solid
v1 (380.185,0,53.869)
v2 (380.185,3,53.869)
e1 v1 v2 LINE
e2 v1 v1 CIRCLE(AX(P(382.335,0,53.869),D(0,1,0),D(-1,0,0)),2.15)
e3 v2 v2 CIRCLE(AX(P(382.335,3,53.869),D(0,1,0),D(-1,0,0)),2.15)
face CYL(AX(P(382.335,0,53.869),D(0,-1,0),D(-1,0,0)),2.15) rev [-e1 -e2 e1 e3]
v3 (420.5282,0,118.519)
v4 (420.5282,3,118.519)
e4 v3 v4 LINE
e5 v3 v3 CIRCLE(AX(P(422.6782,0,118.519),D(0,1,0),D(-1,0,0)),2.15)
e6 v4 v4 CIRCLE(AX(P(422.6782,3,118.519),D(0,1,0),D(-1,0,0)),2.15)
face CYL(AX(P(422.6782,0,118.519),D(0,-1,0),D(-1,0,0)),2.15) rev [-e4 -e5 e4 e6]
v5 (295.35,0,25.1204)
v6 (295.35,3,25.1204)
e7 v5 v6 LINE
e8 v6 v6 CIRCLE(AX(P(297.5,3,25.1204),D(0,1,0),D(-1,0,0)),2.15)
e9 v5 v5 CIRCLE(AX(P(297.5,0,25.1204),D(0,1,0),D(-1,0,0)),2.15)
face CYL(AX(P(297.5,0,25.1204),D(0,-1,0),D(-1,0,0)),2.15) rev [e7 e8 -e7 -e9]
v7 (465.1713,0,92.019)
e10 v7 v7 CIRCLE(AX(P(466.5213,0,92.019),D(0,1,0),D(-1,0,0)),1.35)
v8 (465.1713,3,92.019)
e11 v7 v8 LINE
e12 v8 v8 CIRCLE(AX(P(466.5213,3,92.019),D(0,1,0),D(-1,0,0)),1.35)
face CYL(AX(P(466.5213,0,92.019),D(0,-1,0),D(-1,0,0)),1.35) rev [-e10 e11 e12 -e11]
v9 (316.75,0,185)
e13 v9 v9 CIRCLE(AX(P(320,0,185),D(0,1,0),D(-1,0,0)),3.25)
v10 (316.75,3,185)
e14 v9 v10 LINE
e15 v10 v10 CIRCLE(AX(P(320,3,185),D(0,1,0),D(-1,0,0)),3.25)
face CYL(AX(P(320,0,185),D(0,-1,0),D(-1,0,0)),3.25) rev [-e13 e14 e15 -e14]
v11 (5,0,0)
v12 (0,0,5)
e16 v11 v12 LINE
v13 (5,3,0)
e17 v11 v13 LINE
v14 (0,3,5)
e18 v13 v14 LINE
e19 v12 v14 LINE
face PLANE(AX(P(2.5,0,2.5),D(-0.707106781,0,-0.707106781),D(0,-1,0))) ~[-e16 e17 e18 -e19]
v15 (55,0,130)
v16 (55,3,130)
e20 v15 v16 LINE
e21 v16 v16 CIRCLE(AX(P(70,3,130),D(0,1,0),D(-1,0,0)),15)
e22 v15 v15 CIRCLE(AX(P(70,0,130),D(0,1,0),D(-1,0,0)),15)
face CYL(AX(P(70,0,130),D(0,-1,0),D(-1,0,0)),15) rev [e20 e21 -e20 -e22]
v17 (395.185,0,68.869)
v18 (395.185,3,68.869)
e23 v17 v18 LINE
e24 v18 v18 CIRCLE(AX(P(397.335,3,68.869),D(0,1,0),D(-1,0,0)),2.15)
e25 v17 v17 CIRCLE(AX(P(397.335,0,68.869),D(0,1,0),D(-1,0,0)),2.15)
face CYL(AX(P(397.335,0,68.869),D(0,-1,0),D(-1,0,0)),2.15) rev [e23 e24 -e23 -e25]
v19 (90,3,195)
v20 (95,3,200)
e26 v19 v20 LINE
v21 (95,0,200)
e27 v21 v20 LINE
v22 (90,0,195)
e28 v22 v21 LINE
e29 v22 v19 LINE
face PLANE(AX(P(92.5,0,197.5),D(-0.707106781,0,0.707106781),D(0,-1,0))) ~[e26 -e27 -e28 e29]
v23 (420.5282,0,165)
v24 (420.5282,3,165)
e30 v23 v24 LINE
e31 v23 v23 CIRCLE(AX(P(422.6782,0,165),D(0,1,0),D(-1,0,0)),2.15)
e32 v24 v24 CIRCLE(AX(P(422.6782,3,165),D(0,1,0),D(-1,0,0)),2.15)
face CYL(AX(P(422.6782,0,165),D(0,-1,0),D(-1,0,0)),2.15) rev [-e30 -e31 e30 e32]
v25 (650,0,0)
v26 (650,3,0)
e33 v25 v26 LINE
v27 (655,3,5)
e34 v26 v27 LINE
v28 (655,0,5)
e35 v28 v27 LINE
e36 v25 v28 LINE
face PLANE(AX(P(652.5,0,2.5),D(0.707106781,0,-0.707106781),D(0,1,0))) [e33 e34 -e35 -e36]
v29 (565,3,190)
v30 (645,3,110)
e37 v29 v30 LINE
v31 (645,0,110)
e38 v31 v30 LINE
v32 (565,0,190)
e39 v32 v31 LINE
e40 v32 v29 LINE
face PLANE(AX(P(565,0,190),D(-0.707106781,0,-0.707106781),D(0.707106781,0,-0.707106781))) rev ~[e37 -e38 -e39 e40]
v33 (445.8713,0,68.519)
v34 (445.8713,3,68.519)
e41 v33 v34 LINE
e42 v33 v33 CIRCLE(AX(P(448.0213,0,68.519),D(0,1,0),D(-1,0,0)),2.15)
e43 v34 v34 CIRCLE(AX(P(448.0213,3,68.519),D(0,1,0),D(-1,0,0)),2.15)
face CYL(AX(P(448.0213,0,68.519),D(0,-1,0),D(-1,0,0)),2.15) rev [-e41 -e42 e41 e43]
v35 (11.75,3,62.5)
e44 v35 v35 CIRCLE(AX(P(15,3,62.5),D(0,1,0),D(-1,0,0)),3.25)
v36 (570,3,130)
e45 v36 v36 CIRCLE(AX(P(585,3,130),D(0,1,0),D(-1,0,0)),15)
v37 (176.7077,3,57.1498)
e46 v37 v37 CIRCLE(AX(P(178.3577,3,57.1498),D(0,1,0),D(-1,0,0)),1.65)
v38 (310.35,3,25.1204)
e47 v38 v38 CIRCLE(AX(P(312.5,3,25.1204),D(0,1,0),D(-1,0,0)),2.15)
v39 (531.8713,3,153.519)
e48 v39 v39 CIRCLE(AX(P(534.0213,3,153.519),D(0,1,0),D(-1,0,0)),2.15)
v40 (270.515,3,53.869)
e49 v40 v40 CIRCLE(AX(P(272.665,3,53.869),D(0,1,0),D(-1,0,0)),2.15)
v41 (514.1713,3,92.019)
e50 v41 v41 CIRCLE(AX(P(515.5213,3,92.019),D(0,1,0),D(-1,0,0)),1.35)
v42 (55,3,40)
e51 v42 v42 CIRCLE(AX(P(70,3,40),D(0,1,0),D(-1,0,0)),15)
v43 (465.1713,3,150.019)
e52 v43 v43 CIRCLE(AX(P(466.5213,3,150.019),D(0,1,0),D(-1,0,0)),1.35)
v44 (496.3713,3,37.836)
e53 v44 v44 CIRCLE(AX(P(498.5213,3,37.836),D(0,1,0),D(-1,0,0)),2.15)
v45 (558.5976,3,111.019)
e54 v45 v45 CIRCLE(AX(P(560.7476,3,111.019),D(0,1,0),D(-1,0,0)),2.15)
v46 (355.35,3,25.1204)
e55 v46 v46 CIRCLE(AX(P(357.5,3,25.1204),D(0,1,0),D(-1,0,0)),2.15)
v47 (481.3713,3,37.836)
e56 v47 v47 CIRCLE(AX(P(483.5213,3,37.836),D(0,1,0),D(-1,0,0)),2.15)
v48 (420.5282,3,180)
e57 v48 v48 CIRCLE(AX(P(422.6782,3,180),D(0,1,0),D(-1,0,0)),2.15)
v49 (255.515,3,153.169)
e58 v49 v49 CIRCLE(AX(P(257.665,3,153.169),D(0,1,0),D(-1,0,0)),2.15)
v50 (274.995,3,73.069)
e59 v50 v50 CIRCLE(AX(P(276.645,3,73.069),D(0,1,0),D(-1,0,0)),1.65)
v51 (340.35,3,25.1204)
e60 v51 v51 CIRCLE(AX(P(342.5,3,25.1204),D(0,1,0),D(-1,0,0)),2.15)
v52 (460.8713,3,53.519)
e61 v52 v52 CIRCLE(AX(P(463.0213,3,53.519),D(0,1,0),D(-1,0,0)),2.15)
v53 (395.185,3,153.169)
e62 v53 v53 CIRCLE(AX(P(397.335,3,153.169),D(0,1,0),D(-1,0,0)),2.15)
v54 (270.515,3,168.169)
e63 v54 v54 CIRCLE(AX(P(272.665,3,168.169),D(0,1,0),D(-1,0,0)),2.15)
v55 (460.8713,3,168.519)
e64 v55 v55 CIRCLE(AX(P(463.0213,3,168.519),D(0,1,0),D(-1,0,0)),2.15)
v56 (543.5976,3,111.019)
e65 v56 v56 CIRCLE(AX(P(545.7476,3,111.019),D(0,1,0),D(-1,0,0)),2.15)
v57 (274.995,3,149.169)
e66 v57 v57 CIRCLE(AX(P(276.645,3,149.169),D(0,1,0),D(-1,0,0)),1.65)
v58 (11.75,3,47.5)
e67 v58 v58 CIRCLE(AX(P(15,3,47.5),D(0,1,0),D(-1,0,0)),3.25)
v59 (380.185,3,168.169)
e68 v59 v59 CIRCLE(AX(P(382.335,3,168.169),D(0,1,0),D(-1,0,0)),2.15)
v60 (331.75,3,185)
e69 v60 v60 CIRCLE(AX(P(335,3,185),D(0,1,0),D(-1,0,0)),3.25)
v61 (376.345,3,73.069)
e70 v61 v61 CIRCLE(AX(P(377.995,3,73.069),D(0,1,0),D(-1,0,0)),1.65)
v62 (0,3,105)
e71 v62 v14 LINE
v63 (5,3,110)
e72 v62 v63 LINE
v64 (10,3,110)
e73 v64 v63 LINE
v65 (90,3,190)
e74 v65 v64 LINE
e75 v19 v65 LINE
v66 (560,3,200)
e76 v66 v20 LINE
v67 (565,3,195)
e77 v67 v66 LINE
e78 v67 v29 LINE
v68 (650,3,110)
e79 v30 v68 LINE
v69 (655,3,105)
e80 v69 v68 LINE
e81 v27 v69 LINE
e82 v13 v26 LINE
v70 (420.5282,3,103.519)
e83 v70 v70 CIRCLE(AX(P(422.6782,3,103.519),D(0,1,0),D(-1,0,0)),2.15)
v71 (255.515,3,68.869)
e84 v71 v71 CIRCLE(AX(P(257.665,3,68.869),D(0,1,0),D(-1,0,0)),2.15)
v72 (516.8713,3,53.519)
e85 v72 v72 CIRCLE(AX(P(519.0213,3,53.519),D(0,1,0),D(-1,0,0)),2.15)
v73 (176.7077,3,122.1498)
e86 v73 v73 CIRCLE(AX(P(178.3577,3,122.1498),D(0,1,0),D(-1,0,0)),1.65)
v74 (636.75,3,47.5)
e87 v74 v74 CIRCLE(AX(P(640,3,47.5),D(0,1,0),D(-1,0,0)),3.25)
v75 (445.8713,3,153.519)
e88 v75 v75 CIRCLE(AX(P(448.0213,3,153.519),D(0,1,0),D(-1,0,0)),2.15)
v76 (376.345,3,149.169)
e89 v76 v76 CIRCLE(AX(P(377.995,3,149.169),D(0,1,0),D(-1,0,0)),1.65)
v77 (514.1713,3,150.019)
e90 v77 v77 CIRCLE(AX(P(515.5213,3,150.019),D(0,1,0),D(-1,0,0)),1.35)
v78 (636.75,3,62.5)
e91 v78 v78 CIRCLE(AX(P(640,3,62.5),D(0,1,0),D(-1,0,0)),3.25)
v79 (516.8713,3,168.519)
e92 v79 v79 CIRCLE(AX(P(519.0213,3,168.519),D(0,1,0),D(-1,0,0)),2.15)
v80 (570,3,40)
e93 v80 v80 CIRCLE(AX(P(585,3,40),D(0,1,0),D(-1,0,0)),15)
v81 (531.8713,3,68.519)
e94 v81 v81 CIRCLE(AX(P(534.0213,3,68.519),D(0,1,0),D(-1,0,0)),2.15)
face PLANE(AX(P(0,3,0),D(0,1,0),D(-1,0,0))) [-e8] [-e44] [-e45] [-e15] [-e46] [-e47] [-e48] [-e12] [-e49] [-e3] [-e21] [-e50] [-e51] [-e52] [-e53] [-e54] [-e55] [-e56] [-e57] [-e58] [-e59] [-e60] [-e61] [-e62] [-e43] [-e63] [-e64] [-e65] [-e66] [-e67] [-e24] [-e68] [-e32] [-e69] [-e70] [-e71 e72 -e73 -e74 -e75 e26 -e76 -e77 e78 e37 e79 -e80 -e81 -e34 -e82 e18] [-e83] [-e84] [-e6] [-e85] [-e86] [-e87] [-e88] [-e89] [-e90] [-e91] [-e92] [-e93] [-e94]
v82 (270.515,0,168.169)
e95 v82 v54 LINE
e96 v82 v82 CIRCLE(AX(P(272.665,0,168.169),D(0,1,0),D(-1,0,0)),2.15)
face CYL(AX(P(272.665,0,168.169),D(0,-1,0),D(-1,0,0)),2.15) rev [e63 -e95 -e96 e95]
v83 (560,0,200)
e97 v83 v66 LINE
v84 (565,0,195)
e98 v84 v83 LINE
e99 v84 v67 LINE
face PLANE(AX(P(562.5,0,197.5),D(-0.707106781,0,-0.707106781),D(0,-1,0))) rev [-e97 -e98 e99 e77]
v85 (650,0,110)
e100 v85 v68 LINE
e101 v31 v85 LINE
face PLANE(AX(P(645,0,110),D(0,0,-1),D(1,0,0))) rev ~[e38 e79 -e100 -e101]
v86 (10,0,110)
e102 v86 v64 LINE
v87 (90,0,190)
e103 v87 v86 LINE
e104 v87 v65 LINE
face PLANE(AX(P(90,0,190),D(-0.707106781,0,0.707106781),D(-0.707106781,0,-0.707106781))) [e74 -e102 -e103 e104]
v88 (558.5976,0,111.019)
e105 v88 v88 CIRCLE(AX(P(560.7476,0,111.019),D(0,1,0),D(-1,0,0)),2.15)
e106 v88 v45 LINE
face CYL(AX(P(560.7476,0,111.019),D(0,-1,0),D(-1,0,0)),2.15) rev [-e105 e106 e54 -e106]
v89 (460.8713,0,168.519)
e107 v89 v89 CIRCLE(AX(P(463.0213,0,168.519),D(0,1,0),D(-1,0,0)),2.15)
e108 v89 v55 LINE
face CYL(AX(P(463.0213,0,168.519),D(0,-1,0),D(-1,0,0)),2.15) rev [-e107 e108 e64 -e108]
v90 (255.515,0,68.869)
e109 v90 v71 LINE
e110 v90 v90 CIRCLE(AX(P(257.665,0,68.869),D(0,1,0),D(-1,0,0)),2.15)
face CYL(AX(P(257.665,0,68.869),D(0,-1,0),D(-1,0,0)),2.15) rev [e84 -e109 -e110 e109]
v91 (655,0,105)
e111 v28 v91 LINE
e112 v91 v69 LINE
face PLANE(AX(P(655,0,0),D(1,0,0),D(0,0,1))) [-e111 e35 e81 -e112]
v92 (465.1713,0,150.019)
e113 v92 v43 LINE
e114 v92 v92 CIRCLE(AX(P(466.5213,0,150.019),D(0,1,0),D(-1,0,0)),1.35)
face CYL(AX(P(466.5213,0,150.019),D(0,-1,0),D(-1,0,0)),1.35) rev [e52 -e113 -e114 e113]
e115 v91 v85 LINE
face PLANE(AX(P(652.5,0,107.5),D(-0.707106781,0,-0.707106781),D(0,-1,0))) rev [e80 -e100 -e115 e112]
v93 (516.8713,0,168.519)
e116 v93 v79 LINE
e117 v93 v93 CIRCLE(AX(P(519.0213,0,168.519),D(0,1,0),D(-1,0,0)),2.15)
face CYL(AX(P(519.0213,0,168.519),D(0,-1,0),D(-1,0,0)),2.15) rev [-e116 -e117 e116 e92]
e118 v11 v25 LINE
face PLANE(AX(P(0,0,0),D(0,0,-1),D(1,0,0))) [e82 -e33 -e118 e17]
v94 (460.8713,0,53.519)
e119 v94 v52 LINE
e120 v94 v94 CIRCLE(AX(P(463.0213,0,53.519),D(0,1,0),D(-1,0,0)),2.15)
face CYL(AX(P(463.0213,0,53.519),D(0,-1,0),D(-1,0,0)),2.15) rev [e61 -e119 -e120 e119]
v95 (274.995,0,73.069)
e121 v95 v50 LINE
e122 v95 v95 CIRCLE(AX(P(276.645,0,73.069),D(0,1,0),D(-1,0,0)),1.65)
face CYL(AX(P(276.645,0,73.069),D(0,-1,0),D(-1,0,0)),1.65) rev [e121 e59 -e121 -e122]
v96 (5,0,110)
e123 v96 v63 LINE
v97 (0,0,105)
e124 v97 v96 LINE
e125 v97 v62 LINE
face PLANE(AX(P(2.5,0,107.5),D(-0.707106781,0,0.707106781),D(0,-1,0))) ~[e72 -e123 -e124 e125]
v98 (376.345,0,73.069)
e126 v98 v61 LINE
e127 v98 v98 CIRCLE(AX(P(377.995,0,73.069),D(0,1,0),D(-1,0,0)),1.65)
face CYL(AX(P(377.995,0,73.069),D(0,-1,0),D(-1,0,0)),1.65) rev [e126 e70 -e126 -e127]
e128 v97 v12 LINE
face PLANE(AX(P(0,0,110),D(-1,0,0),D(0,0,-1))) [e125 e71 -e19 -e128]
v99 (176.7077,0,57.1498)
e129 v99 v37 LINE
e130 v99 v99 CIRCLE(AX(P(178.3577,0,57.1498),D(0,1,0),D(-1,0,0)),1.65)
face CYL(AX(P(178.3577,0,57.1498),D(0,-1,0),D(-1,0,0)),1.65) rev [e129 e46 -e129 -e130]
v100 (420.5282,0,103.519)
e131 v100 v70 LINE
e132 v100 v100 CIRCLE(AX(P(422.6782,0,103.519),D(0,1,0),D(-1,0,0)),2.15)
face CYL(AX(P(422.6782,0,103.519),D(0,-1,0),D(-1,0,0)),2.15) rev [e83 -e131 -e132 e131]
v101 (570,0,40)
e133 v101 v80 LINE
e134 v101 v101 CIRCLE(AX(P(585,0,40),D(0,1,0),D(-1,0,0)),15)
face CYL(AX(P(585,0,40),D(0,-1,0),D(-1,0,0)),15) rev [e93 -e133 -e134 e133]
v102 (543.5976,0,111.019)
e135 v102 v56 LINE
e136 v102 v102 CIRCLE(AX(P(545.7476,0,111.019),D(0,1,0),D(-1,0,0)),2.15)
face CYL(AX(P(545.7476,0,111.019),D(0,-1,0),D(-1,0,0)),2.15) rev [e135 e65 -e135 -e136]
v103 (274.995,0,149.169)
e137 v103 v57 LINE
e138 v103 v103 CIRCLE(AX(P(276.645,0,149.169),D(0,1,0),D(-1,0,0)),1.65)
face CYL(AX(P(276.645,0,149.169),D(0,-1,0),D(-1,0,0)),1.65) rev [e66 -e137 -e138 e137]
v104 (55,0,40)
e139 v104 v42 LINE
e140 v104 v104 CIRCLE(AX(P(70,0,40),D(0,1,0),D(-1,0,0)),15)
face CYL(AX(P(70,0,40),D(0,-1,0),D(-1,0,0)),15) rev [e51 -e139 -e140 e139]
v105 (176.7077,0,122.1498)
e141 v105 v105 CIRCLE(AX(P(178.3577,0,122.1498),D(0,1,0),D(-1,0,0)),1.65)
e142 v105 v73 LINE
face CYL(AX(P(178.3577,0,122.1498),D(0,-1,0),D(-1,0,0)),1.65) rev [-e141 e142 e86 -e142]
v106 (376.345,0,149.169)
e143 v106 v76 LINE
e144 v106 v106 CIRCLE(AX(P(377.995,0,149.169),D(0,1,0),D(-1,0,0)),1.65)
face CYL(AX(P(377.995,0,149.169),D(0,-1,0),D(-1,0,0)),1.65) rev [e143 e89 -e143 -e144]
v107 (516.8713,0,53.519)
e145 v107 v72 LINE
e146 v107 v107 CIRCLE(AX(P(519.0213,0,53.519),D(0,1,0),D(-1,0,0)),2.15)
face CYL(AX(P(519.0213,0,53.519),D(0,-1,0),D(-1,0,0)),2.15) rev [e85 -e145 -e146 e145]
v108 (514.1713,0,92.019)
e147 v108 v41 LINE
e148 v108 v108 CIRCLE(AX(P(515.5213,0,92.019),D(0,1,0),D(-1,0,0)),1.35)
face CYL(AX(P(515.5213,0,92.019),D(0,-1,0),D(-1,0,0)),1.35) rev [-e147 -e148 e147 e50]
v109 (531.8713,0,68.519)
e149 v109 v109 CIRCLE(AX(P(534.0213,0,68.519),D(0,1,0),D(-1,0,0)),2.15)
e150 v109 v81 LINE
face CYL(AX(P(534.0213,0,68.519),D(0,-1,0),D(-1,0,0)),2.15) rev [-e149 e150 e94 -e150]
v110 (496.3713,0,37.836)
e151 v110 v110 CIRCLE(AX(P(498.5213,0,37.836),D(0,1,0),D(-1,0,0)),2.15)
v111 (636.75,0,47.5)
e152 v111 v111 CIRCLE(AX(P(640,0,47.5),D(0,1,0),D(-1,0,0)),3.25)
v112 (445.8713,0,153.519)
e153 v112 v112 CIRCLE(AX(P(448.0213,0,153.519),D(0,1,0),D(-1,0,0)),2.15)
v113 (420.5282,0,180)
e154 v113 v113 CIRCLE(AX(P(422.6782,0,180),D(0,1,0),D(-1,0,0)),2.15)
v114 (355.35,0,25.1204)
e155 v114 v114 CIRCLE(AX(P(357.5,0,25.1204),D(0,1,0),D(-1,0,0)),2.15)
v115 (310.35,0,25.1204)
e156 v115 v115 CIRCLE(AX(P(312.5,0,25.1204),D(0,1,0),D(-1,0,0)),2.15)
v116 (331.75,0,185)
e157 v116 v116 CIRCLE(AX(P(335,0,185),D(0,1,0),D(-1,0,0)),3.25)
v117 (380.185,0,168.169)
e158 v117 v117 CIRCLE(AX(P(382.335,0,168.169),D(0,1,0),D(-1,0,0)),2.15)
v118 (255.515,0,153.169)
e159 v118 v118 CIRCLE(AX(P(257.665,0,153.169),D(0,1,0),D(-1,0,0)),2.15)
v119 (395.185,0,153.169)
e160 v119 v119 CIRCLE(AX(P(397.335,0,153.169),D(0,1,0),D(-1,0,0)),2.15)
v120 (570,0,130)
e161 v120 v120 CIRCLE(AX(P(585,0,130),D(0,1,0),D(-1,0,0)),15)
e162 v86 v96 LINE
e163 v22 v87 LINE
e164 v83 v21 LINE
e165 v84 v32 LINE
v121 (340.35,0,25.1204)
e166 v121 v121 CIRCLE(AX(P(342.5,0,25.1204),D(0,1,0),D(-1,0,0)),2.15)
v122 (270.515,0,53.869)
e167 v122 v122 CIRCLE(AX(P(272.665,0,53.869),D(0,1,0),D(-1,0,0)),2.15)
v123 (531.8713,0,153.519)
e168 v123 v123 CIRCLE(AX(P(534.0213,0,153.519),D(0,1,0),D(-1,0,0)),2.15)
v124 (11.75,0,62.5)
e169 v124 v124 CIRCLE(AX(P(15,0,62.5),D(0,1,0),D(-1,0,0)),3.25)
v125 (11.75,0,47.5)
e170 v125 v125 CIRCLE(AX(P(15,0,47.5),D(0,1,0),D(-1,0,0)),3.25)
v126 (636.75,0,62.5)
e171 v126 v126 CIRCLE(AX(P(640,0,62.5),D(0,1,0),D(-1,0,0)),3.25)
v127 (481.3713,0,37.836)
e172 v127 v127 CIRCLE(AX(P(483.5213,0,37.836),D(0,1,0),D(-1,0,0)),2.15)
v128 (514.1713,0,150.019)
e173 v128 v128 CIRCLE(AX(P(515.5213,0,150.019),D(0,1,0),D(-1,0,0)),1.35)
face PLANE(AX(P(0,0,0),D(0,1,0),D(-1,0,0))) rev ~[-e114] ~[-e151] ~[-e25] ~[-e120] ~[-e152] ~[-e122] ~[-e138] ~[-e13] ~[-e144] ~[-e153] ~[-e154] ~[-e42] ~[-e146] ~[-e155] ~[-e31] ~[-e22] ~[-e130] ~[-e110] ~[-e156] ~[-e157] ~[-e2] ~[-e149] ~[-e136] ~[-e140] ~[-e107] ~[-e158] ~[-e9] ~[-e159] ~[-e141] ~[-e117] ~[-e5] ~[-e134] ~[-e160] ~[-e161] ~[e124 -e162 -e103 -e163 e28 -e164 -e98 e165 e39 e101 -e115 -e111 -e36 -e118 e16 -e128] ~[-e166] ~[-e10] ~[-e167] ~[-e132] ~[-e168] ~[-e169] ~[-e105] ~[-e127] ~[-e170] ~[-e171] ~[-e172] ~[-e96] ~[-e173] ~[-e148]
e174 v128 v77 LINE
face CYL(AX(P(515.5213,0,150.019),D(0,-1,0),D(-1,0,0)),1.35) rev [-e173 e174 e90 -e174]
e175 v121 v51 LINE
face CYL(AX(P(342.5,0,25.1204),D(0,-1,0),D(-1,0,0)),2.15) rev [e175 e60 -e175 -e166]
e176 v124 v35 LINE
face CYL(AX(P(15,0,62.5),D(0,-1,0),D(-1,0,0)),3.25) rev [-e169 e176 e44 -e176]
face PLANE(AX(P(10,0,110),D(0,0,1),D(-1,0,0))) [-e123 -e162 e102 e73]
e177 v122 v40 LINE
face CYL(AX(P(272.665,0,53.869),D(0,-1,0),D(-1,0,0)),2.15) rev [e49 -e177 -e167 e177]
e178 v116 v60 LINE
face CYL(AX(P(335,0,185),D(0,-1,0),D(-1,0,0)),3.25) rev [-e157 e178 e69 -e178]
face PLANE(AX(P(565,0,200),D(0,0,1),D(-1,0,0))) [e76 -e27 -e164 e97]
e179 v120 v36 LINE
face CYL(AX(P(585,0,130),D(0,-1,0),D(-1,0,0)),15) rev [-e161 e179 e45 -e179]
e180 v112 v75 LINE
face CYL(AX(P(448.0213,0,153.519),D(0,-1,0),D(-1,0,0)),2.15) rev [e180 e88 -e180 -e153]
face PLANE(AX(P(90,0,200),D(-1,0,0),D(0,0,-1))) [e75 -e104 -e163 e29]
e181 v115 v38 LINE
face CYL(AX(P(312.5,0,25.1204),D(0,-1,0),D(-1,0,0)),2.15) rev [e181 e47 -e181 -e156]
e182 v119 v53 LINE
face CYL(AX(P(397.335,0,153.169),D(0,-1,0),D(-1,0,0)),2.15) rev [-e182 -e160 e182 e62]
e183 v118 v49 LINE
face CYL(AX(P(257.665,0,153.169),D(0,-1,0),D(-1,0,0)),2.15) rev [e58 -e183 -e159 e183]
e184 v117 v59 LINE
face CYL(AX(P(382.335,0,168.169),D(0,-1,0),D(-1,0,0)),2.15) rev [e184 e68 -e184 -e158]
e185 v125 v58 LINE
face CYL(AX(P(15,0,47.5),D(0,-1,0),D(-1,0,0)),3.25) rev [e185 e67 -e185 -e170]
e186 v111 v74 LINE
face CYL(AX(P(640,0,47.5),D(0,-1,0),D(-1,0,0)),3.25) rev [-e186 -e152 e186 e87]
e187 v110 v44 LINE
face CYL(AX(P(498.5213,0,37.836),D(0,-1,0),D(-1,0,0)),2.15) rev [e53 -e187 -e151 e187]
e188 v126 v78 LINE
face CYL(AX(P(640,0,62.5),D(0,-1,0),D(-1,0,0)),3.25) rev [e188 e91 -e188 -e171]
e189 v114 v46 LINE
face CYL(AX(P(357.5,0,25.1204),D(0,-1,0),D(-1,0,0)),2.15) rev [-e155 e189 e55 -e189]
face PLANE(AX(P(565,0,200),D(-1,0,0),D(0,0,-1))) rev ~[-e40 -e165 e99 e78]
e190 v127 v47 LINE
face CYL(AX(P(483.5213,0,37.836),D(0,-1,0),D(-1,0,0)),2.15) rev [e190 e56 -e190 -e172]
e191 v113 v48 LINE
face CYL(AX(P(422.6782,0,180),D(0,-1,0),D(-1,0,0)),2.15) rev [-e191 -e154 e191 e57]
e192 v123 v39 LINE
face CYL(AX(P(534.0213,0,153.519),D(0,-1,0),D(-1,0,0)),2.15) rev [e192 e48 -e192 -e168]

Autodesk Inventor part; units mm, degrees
ref_plane "YZ Plane" through (0, 0, 0) normal (1, 0, 0) x (0, 1, 0)
ref_plane "XZ Plane" through (0, 0, 0) normal (0, 1, 0) x (-1, 0, 0)
ref_plane "XY Plane" through (0, 0, 0) normal (0, 0, 1) x (1, 0, 0)
sketch "Skizze1" plane through (0, 0, 0) normal (0, 1, 0) x (-1, 0, 0)
  line L0 (0, 0) -> (-655, 0)
  line L1 (-655, 0) -> (-655, 200)
  line L2 (-655, 200) -> (0, 200)
  line L3 (0, 200) -> (0, 0)
  line L4 (-327.5, 0) -> (-327.5, 200) construction
  line L5 (0, 100) -> (-655, 100) construction
  line L6 (-655, 55) -> (0, 55) construction
  line L7 (0, 80) -> (-655, 80) construction
  line L8 (-640, 185) -> (-640, 15) construction
  line L9 (-640, 15) -> (-15, 15) construction
  line L10 (-15, 15) -> (-15, 185) construction
  line L11 (-15, 185) -> (-640, 185) construction
  circle A0 centre (-15, 47.5) radius 3.25
  circle A1 centre (-15, 62.5) radius 3.25
  circle A2 centre (-320, 185) radius 3.25
  circle A3 centre (-335, 185) radius 3.25
  circle A4 centre (-640, 47.5) radius 3.25
  circle A5 centre (-640, 62.5) radius 3.25
  line L12 (-90, 200) -> (-90, 190)
  line L13 (-90, 190) -> (-10, 110)
  line L14 (-10, 110) -> (0, 110)
  line L15 (-565, 200) -> (-565, 190)
  line L16 (-565, 190) -> (-645, 110)
  line L17 (-645, 110) -> (-655, 110)
  circle A6 centre (-70, 130) radius 15
  circle A7 centre (-70, 40) radius 15
  circle A8 centre (-585, 130) radius 15
  circle A9 centre (-585, 40) radius 15
  point P0 (-15, 55)
  point P1 (-327.5, 185)
  point P2 (-565, 200)
  point P3 (-655, 110)
  dimension "d0" = 655
  dimension "d1" = 200
  dimension "d2" = 145
  dimension "d3" = 80
  dimension "d6" = 15
  dimension "d13" = 6.5
  dimension "d14" = 7.5
  dimension "d21" = 6.5
  dimension "d23" = 7.5
  dimension "d80" = 625
  dimension "d81" = 45
  dimension "d83" = 90
  dimension "d84" = 90
  dimension "d85" = 10
  dimension "d86" = 30
  dimension "d87" = 70
  dimension "d88" = 70
  dimension "d91" = 90
extrude "Ex-Platte" add sketch "Skizze1" along normal blind 3 contours L0 L1 L17 L16 L15 L2 L12 L13 L14 L3
sketch "S-Anschraubpunkte" plane through (0, 0, 0) normal (0, 1, 0) x (-1, 0, 0)
  line L0 (-655, 0) -> (0, 0) construction
  line L1 (-90, 200) -> (-565, 200) construction
  line L2 (-655, 0) -> (0, 0) construction
  line L3 (-327.5, 0) -> (-327.5, 200) construction
  line L4 (-129.8577, 12.8998) -> (-226.8577, 12.8998) construction
  line L5 (-226.8577, 12.8998) -> (-226.8577, 171.8998) construction
  line L6 (-226.8577, 171.8998) -> (-129.8577, 171.8998) construction
  line L7 (-129.8577, 171.8998) -> (-129.8577, 12.8998) construction
  line L8 (-272.665, 68.869) -> (-382.335, 68.869) construction
  line L9 (-382.335, 68.869) -> (-382.335, 153.169) construction
  line L10 (-382.335, 153.169) -> (-272.665, 153.169) construction
  line L11 (-272.665, 153.169) -> (-272.665, 68.869) construction
  line L12 (-463.0213, 68.519) -> (-519.0213, 68.519) construction
  line L13 (-519.0213, 68.519) -> (-519.0213, 153.519) construction
  line L14 (-519.0213, 153.519) -> (-463.0213, 153.519) construction
  line L15 (-463.0213, 153.519) -> (-463.0213, 68.519) construction
  line L16 (-491.0213, 68.519) -> (-491.0213, 153.519) construction
  line L17 (-463.0213, 111.019) -> (-519.0213, 111.019) construction
  line L18 (-327.5, 68.869) -> (-327.5, 153.169) construction
  line L19 (-272.665, 111.019) -> (-382.335, 111.019) construction
  line L20 (-178.3577, 12.8998) -> (-178.3577, 171.8998) construction
  line L21 (-226.8577, 92.3998) -> (-129.8577, 92.3998) construction
  circle A0 centre (-466.5213, 150.019) radius 1.35
  circle A1 centre (-448.0213, 68.519) radius 2.15
  circle A2 centre (-463.0213, 53.519) radius 2.15
  circle A3 centre (-534.0213, 68.519) radius 2.15
  circle A4 centre (-519.0213, 53.519) radius 2.15
  circle A5 centre (-448.0213, 153.519) radius 2.15
  circle A6 centre (-463.0213, 168.519) radius 2.15
  circle A7 centre (-519.0213, 168.519) radius 2.15
  circle A8 centre (-534.0213, 153.519) radius 2.15
  circle A9 centre (-276.645, 149.169) radius 1.65
  circle A10 centre (-276.645, 73.069) radius 1.65
  circle A11 centre (-377.995, 73.069) radius 1.65
  circle A12 centre (-377.995, 149.169) radius 1.65
  circle A13 centre (-257.665, 153.169) radius 2.15
  circle A14 centre (-272.665, 168.169) radius 2.15
  circle A15 centre (-257.665, 68.869) radius 2.15
  circle A16 centre (-272.665, 53.869) radius 2.15
  circle A17 centre (-397.335, 153.169) radius 2.15
  circle A18 centre (-382.335, 168.169) radius 2.15
  circle A19 centre (-382.335, 53.869) radius 2.15
  circle A20 centre (-397.335, 68.869) radius 2.15
  circle A21 centre (-178.3577, 122.1498) radius 1.65
  circle A22 centre (-178.3577, 57.1498) radius 1.65
  circle A23 centre (-515.5213, 150.019) radius 1.35
  circle A24 centre (-466.5213, 92.019) radius 1.35
  circle A25 centre (-515.5213, 92.019) radius 1.35
  circle A26 centre (-422.6782, 165) radius 2.15
  circle A27 centre (-422.6782, 180) radius 2.15
  line L22 (-422.6782, 165) -> (-422.6782, 180) construction
  circle A28 centre (-560.7476, 111.019) radius 2.15
  circle A29 centre (-545.7476, 111.019) radius 2.15
  line L23 (-560.7476, 111.019) -> (-545.7476, 111.019) construction
  circle A30 centre (-297.5, 25.1204) radius 2.15
  circle A31 centre (-312.5, 25.1204) radius 2.15
  line L24 (-297.5, 25.1204) -> (-312.5, 25.1204) construction
  circle A32 centre (-342.5, 25.1204) radius 2.15
  circle A33 centre (-357.5, 25.1204) radius 2.15
  line L25 (-342.5, 25.1204) -> (-357.5, 25.1204) construction
  circle A34 centre (-498.5213, 37.836) radius 2.15
  circle A35 centre (-483.5213, 37.836) radius 2.15
  line L26 (-498.5213, 37.836) -> (-483.5213, 37.836) construction
  circle A36 centre (-422.6782, 103.519) radius 2.15
  circle A37 centre (-422.6782, 118.519) radius 2.15
  line L27 (-422.6782, 103.519) -> (-422.6782, 118.519) construction
  line L28 (-312.5, 25.1204) -> (-342.5, 25.1204) construction
  point P0 (-422.6782, 111.019)
  point P1 (-491.0213, 37.836)
  point P2 (-327.5, 25.1204)
  dimension "d96" = 97
  dimension "d97" = 159
  dimension "d98" = 109.67
  dimension "d99" = 84.3
  dimension "d100" = 56
  dimension "d101" = 85
  dimension "d102" = 2.7
  dimension "d105" = 4.3
  dimension "d106" = 4.3
  dimension "d107" = 15
  dimension "d108" = 15
  dimension "d110" = 3.98
  dimension "d111" = 3.3
  dimension "d112" = 4
  dimension "d115" = 76.1
  dimension "d122" = 101.35
  dimension "d127" = 4.3
  dimension "d128" = 4.3
  dimension "d129" = 15
  dimension "d130" = 15
  dimension "d132" = 49.75
  dimension "d135" = 65
  dimension "d140" = 3.3
  dimension "d154" = 3.5
  dimension "d155" = 3.5
  dimension "d158" = 58
  dimension "d174" = 4.3
  dimension "d176" = 4.3
  dimension "d177" = 15
  dimension "d178" = 20
  dimension "d195" = 4.3
  dimension "d196" = 4.3
  dimension "d197" = 15
  dimension "d214" = 4.3
  dimension "d215" = 4.3
  dimension "d216" = 15
  dimension "d233" = 4.3
  dimension "d234" = 4.3
  dimension "d235" = 15
  dimension "d252" = 4.3
  dimension "d253" = 4.3
  dimension "d254" = 15
  dimension "d271" = 4.3
  dimension "d272" = 4.3
  dimension "d273" = 15
  dimension "d274" = 30
extrude "Ex-Anschraubpunkte" cut sketch "S-Anschraubpunkte" along normal blind 3
chamfer "Fase-5mm" distance 5 angle 45 6 edges at (655, 1.5, 0) (0, 1.5, 0) (0, 1.5, 110) (90, 1.5, 200) (565, 1.5, 200) (655, 1.5, 110)
equation "\"d21\" = d13"
equation "\"d23\" = d14"
equation "\"d84\" = d83"
properties part number "enc-ElectronicsPanel V1"
